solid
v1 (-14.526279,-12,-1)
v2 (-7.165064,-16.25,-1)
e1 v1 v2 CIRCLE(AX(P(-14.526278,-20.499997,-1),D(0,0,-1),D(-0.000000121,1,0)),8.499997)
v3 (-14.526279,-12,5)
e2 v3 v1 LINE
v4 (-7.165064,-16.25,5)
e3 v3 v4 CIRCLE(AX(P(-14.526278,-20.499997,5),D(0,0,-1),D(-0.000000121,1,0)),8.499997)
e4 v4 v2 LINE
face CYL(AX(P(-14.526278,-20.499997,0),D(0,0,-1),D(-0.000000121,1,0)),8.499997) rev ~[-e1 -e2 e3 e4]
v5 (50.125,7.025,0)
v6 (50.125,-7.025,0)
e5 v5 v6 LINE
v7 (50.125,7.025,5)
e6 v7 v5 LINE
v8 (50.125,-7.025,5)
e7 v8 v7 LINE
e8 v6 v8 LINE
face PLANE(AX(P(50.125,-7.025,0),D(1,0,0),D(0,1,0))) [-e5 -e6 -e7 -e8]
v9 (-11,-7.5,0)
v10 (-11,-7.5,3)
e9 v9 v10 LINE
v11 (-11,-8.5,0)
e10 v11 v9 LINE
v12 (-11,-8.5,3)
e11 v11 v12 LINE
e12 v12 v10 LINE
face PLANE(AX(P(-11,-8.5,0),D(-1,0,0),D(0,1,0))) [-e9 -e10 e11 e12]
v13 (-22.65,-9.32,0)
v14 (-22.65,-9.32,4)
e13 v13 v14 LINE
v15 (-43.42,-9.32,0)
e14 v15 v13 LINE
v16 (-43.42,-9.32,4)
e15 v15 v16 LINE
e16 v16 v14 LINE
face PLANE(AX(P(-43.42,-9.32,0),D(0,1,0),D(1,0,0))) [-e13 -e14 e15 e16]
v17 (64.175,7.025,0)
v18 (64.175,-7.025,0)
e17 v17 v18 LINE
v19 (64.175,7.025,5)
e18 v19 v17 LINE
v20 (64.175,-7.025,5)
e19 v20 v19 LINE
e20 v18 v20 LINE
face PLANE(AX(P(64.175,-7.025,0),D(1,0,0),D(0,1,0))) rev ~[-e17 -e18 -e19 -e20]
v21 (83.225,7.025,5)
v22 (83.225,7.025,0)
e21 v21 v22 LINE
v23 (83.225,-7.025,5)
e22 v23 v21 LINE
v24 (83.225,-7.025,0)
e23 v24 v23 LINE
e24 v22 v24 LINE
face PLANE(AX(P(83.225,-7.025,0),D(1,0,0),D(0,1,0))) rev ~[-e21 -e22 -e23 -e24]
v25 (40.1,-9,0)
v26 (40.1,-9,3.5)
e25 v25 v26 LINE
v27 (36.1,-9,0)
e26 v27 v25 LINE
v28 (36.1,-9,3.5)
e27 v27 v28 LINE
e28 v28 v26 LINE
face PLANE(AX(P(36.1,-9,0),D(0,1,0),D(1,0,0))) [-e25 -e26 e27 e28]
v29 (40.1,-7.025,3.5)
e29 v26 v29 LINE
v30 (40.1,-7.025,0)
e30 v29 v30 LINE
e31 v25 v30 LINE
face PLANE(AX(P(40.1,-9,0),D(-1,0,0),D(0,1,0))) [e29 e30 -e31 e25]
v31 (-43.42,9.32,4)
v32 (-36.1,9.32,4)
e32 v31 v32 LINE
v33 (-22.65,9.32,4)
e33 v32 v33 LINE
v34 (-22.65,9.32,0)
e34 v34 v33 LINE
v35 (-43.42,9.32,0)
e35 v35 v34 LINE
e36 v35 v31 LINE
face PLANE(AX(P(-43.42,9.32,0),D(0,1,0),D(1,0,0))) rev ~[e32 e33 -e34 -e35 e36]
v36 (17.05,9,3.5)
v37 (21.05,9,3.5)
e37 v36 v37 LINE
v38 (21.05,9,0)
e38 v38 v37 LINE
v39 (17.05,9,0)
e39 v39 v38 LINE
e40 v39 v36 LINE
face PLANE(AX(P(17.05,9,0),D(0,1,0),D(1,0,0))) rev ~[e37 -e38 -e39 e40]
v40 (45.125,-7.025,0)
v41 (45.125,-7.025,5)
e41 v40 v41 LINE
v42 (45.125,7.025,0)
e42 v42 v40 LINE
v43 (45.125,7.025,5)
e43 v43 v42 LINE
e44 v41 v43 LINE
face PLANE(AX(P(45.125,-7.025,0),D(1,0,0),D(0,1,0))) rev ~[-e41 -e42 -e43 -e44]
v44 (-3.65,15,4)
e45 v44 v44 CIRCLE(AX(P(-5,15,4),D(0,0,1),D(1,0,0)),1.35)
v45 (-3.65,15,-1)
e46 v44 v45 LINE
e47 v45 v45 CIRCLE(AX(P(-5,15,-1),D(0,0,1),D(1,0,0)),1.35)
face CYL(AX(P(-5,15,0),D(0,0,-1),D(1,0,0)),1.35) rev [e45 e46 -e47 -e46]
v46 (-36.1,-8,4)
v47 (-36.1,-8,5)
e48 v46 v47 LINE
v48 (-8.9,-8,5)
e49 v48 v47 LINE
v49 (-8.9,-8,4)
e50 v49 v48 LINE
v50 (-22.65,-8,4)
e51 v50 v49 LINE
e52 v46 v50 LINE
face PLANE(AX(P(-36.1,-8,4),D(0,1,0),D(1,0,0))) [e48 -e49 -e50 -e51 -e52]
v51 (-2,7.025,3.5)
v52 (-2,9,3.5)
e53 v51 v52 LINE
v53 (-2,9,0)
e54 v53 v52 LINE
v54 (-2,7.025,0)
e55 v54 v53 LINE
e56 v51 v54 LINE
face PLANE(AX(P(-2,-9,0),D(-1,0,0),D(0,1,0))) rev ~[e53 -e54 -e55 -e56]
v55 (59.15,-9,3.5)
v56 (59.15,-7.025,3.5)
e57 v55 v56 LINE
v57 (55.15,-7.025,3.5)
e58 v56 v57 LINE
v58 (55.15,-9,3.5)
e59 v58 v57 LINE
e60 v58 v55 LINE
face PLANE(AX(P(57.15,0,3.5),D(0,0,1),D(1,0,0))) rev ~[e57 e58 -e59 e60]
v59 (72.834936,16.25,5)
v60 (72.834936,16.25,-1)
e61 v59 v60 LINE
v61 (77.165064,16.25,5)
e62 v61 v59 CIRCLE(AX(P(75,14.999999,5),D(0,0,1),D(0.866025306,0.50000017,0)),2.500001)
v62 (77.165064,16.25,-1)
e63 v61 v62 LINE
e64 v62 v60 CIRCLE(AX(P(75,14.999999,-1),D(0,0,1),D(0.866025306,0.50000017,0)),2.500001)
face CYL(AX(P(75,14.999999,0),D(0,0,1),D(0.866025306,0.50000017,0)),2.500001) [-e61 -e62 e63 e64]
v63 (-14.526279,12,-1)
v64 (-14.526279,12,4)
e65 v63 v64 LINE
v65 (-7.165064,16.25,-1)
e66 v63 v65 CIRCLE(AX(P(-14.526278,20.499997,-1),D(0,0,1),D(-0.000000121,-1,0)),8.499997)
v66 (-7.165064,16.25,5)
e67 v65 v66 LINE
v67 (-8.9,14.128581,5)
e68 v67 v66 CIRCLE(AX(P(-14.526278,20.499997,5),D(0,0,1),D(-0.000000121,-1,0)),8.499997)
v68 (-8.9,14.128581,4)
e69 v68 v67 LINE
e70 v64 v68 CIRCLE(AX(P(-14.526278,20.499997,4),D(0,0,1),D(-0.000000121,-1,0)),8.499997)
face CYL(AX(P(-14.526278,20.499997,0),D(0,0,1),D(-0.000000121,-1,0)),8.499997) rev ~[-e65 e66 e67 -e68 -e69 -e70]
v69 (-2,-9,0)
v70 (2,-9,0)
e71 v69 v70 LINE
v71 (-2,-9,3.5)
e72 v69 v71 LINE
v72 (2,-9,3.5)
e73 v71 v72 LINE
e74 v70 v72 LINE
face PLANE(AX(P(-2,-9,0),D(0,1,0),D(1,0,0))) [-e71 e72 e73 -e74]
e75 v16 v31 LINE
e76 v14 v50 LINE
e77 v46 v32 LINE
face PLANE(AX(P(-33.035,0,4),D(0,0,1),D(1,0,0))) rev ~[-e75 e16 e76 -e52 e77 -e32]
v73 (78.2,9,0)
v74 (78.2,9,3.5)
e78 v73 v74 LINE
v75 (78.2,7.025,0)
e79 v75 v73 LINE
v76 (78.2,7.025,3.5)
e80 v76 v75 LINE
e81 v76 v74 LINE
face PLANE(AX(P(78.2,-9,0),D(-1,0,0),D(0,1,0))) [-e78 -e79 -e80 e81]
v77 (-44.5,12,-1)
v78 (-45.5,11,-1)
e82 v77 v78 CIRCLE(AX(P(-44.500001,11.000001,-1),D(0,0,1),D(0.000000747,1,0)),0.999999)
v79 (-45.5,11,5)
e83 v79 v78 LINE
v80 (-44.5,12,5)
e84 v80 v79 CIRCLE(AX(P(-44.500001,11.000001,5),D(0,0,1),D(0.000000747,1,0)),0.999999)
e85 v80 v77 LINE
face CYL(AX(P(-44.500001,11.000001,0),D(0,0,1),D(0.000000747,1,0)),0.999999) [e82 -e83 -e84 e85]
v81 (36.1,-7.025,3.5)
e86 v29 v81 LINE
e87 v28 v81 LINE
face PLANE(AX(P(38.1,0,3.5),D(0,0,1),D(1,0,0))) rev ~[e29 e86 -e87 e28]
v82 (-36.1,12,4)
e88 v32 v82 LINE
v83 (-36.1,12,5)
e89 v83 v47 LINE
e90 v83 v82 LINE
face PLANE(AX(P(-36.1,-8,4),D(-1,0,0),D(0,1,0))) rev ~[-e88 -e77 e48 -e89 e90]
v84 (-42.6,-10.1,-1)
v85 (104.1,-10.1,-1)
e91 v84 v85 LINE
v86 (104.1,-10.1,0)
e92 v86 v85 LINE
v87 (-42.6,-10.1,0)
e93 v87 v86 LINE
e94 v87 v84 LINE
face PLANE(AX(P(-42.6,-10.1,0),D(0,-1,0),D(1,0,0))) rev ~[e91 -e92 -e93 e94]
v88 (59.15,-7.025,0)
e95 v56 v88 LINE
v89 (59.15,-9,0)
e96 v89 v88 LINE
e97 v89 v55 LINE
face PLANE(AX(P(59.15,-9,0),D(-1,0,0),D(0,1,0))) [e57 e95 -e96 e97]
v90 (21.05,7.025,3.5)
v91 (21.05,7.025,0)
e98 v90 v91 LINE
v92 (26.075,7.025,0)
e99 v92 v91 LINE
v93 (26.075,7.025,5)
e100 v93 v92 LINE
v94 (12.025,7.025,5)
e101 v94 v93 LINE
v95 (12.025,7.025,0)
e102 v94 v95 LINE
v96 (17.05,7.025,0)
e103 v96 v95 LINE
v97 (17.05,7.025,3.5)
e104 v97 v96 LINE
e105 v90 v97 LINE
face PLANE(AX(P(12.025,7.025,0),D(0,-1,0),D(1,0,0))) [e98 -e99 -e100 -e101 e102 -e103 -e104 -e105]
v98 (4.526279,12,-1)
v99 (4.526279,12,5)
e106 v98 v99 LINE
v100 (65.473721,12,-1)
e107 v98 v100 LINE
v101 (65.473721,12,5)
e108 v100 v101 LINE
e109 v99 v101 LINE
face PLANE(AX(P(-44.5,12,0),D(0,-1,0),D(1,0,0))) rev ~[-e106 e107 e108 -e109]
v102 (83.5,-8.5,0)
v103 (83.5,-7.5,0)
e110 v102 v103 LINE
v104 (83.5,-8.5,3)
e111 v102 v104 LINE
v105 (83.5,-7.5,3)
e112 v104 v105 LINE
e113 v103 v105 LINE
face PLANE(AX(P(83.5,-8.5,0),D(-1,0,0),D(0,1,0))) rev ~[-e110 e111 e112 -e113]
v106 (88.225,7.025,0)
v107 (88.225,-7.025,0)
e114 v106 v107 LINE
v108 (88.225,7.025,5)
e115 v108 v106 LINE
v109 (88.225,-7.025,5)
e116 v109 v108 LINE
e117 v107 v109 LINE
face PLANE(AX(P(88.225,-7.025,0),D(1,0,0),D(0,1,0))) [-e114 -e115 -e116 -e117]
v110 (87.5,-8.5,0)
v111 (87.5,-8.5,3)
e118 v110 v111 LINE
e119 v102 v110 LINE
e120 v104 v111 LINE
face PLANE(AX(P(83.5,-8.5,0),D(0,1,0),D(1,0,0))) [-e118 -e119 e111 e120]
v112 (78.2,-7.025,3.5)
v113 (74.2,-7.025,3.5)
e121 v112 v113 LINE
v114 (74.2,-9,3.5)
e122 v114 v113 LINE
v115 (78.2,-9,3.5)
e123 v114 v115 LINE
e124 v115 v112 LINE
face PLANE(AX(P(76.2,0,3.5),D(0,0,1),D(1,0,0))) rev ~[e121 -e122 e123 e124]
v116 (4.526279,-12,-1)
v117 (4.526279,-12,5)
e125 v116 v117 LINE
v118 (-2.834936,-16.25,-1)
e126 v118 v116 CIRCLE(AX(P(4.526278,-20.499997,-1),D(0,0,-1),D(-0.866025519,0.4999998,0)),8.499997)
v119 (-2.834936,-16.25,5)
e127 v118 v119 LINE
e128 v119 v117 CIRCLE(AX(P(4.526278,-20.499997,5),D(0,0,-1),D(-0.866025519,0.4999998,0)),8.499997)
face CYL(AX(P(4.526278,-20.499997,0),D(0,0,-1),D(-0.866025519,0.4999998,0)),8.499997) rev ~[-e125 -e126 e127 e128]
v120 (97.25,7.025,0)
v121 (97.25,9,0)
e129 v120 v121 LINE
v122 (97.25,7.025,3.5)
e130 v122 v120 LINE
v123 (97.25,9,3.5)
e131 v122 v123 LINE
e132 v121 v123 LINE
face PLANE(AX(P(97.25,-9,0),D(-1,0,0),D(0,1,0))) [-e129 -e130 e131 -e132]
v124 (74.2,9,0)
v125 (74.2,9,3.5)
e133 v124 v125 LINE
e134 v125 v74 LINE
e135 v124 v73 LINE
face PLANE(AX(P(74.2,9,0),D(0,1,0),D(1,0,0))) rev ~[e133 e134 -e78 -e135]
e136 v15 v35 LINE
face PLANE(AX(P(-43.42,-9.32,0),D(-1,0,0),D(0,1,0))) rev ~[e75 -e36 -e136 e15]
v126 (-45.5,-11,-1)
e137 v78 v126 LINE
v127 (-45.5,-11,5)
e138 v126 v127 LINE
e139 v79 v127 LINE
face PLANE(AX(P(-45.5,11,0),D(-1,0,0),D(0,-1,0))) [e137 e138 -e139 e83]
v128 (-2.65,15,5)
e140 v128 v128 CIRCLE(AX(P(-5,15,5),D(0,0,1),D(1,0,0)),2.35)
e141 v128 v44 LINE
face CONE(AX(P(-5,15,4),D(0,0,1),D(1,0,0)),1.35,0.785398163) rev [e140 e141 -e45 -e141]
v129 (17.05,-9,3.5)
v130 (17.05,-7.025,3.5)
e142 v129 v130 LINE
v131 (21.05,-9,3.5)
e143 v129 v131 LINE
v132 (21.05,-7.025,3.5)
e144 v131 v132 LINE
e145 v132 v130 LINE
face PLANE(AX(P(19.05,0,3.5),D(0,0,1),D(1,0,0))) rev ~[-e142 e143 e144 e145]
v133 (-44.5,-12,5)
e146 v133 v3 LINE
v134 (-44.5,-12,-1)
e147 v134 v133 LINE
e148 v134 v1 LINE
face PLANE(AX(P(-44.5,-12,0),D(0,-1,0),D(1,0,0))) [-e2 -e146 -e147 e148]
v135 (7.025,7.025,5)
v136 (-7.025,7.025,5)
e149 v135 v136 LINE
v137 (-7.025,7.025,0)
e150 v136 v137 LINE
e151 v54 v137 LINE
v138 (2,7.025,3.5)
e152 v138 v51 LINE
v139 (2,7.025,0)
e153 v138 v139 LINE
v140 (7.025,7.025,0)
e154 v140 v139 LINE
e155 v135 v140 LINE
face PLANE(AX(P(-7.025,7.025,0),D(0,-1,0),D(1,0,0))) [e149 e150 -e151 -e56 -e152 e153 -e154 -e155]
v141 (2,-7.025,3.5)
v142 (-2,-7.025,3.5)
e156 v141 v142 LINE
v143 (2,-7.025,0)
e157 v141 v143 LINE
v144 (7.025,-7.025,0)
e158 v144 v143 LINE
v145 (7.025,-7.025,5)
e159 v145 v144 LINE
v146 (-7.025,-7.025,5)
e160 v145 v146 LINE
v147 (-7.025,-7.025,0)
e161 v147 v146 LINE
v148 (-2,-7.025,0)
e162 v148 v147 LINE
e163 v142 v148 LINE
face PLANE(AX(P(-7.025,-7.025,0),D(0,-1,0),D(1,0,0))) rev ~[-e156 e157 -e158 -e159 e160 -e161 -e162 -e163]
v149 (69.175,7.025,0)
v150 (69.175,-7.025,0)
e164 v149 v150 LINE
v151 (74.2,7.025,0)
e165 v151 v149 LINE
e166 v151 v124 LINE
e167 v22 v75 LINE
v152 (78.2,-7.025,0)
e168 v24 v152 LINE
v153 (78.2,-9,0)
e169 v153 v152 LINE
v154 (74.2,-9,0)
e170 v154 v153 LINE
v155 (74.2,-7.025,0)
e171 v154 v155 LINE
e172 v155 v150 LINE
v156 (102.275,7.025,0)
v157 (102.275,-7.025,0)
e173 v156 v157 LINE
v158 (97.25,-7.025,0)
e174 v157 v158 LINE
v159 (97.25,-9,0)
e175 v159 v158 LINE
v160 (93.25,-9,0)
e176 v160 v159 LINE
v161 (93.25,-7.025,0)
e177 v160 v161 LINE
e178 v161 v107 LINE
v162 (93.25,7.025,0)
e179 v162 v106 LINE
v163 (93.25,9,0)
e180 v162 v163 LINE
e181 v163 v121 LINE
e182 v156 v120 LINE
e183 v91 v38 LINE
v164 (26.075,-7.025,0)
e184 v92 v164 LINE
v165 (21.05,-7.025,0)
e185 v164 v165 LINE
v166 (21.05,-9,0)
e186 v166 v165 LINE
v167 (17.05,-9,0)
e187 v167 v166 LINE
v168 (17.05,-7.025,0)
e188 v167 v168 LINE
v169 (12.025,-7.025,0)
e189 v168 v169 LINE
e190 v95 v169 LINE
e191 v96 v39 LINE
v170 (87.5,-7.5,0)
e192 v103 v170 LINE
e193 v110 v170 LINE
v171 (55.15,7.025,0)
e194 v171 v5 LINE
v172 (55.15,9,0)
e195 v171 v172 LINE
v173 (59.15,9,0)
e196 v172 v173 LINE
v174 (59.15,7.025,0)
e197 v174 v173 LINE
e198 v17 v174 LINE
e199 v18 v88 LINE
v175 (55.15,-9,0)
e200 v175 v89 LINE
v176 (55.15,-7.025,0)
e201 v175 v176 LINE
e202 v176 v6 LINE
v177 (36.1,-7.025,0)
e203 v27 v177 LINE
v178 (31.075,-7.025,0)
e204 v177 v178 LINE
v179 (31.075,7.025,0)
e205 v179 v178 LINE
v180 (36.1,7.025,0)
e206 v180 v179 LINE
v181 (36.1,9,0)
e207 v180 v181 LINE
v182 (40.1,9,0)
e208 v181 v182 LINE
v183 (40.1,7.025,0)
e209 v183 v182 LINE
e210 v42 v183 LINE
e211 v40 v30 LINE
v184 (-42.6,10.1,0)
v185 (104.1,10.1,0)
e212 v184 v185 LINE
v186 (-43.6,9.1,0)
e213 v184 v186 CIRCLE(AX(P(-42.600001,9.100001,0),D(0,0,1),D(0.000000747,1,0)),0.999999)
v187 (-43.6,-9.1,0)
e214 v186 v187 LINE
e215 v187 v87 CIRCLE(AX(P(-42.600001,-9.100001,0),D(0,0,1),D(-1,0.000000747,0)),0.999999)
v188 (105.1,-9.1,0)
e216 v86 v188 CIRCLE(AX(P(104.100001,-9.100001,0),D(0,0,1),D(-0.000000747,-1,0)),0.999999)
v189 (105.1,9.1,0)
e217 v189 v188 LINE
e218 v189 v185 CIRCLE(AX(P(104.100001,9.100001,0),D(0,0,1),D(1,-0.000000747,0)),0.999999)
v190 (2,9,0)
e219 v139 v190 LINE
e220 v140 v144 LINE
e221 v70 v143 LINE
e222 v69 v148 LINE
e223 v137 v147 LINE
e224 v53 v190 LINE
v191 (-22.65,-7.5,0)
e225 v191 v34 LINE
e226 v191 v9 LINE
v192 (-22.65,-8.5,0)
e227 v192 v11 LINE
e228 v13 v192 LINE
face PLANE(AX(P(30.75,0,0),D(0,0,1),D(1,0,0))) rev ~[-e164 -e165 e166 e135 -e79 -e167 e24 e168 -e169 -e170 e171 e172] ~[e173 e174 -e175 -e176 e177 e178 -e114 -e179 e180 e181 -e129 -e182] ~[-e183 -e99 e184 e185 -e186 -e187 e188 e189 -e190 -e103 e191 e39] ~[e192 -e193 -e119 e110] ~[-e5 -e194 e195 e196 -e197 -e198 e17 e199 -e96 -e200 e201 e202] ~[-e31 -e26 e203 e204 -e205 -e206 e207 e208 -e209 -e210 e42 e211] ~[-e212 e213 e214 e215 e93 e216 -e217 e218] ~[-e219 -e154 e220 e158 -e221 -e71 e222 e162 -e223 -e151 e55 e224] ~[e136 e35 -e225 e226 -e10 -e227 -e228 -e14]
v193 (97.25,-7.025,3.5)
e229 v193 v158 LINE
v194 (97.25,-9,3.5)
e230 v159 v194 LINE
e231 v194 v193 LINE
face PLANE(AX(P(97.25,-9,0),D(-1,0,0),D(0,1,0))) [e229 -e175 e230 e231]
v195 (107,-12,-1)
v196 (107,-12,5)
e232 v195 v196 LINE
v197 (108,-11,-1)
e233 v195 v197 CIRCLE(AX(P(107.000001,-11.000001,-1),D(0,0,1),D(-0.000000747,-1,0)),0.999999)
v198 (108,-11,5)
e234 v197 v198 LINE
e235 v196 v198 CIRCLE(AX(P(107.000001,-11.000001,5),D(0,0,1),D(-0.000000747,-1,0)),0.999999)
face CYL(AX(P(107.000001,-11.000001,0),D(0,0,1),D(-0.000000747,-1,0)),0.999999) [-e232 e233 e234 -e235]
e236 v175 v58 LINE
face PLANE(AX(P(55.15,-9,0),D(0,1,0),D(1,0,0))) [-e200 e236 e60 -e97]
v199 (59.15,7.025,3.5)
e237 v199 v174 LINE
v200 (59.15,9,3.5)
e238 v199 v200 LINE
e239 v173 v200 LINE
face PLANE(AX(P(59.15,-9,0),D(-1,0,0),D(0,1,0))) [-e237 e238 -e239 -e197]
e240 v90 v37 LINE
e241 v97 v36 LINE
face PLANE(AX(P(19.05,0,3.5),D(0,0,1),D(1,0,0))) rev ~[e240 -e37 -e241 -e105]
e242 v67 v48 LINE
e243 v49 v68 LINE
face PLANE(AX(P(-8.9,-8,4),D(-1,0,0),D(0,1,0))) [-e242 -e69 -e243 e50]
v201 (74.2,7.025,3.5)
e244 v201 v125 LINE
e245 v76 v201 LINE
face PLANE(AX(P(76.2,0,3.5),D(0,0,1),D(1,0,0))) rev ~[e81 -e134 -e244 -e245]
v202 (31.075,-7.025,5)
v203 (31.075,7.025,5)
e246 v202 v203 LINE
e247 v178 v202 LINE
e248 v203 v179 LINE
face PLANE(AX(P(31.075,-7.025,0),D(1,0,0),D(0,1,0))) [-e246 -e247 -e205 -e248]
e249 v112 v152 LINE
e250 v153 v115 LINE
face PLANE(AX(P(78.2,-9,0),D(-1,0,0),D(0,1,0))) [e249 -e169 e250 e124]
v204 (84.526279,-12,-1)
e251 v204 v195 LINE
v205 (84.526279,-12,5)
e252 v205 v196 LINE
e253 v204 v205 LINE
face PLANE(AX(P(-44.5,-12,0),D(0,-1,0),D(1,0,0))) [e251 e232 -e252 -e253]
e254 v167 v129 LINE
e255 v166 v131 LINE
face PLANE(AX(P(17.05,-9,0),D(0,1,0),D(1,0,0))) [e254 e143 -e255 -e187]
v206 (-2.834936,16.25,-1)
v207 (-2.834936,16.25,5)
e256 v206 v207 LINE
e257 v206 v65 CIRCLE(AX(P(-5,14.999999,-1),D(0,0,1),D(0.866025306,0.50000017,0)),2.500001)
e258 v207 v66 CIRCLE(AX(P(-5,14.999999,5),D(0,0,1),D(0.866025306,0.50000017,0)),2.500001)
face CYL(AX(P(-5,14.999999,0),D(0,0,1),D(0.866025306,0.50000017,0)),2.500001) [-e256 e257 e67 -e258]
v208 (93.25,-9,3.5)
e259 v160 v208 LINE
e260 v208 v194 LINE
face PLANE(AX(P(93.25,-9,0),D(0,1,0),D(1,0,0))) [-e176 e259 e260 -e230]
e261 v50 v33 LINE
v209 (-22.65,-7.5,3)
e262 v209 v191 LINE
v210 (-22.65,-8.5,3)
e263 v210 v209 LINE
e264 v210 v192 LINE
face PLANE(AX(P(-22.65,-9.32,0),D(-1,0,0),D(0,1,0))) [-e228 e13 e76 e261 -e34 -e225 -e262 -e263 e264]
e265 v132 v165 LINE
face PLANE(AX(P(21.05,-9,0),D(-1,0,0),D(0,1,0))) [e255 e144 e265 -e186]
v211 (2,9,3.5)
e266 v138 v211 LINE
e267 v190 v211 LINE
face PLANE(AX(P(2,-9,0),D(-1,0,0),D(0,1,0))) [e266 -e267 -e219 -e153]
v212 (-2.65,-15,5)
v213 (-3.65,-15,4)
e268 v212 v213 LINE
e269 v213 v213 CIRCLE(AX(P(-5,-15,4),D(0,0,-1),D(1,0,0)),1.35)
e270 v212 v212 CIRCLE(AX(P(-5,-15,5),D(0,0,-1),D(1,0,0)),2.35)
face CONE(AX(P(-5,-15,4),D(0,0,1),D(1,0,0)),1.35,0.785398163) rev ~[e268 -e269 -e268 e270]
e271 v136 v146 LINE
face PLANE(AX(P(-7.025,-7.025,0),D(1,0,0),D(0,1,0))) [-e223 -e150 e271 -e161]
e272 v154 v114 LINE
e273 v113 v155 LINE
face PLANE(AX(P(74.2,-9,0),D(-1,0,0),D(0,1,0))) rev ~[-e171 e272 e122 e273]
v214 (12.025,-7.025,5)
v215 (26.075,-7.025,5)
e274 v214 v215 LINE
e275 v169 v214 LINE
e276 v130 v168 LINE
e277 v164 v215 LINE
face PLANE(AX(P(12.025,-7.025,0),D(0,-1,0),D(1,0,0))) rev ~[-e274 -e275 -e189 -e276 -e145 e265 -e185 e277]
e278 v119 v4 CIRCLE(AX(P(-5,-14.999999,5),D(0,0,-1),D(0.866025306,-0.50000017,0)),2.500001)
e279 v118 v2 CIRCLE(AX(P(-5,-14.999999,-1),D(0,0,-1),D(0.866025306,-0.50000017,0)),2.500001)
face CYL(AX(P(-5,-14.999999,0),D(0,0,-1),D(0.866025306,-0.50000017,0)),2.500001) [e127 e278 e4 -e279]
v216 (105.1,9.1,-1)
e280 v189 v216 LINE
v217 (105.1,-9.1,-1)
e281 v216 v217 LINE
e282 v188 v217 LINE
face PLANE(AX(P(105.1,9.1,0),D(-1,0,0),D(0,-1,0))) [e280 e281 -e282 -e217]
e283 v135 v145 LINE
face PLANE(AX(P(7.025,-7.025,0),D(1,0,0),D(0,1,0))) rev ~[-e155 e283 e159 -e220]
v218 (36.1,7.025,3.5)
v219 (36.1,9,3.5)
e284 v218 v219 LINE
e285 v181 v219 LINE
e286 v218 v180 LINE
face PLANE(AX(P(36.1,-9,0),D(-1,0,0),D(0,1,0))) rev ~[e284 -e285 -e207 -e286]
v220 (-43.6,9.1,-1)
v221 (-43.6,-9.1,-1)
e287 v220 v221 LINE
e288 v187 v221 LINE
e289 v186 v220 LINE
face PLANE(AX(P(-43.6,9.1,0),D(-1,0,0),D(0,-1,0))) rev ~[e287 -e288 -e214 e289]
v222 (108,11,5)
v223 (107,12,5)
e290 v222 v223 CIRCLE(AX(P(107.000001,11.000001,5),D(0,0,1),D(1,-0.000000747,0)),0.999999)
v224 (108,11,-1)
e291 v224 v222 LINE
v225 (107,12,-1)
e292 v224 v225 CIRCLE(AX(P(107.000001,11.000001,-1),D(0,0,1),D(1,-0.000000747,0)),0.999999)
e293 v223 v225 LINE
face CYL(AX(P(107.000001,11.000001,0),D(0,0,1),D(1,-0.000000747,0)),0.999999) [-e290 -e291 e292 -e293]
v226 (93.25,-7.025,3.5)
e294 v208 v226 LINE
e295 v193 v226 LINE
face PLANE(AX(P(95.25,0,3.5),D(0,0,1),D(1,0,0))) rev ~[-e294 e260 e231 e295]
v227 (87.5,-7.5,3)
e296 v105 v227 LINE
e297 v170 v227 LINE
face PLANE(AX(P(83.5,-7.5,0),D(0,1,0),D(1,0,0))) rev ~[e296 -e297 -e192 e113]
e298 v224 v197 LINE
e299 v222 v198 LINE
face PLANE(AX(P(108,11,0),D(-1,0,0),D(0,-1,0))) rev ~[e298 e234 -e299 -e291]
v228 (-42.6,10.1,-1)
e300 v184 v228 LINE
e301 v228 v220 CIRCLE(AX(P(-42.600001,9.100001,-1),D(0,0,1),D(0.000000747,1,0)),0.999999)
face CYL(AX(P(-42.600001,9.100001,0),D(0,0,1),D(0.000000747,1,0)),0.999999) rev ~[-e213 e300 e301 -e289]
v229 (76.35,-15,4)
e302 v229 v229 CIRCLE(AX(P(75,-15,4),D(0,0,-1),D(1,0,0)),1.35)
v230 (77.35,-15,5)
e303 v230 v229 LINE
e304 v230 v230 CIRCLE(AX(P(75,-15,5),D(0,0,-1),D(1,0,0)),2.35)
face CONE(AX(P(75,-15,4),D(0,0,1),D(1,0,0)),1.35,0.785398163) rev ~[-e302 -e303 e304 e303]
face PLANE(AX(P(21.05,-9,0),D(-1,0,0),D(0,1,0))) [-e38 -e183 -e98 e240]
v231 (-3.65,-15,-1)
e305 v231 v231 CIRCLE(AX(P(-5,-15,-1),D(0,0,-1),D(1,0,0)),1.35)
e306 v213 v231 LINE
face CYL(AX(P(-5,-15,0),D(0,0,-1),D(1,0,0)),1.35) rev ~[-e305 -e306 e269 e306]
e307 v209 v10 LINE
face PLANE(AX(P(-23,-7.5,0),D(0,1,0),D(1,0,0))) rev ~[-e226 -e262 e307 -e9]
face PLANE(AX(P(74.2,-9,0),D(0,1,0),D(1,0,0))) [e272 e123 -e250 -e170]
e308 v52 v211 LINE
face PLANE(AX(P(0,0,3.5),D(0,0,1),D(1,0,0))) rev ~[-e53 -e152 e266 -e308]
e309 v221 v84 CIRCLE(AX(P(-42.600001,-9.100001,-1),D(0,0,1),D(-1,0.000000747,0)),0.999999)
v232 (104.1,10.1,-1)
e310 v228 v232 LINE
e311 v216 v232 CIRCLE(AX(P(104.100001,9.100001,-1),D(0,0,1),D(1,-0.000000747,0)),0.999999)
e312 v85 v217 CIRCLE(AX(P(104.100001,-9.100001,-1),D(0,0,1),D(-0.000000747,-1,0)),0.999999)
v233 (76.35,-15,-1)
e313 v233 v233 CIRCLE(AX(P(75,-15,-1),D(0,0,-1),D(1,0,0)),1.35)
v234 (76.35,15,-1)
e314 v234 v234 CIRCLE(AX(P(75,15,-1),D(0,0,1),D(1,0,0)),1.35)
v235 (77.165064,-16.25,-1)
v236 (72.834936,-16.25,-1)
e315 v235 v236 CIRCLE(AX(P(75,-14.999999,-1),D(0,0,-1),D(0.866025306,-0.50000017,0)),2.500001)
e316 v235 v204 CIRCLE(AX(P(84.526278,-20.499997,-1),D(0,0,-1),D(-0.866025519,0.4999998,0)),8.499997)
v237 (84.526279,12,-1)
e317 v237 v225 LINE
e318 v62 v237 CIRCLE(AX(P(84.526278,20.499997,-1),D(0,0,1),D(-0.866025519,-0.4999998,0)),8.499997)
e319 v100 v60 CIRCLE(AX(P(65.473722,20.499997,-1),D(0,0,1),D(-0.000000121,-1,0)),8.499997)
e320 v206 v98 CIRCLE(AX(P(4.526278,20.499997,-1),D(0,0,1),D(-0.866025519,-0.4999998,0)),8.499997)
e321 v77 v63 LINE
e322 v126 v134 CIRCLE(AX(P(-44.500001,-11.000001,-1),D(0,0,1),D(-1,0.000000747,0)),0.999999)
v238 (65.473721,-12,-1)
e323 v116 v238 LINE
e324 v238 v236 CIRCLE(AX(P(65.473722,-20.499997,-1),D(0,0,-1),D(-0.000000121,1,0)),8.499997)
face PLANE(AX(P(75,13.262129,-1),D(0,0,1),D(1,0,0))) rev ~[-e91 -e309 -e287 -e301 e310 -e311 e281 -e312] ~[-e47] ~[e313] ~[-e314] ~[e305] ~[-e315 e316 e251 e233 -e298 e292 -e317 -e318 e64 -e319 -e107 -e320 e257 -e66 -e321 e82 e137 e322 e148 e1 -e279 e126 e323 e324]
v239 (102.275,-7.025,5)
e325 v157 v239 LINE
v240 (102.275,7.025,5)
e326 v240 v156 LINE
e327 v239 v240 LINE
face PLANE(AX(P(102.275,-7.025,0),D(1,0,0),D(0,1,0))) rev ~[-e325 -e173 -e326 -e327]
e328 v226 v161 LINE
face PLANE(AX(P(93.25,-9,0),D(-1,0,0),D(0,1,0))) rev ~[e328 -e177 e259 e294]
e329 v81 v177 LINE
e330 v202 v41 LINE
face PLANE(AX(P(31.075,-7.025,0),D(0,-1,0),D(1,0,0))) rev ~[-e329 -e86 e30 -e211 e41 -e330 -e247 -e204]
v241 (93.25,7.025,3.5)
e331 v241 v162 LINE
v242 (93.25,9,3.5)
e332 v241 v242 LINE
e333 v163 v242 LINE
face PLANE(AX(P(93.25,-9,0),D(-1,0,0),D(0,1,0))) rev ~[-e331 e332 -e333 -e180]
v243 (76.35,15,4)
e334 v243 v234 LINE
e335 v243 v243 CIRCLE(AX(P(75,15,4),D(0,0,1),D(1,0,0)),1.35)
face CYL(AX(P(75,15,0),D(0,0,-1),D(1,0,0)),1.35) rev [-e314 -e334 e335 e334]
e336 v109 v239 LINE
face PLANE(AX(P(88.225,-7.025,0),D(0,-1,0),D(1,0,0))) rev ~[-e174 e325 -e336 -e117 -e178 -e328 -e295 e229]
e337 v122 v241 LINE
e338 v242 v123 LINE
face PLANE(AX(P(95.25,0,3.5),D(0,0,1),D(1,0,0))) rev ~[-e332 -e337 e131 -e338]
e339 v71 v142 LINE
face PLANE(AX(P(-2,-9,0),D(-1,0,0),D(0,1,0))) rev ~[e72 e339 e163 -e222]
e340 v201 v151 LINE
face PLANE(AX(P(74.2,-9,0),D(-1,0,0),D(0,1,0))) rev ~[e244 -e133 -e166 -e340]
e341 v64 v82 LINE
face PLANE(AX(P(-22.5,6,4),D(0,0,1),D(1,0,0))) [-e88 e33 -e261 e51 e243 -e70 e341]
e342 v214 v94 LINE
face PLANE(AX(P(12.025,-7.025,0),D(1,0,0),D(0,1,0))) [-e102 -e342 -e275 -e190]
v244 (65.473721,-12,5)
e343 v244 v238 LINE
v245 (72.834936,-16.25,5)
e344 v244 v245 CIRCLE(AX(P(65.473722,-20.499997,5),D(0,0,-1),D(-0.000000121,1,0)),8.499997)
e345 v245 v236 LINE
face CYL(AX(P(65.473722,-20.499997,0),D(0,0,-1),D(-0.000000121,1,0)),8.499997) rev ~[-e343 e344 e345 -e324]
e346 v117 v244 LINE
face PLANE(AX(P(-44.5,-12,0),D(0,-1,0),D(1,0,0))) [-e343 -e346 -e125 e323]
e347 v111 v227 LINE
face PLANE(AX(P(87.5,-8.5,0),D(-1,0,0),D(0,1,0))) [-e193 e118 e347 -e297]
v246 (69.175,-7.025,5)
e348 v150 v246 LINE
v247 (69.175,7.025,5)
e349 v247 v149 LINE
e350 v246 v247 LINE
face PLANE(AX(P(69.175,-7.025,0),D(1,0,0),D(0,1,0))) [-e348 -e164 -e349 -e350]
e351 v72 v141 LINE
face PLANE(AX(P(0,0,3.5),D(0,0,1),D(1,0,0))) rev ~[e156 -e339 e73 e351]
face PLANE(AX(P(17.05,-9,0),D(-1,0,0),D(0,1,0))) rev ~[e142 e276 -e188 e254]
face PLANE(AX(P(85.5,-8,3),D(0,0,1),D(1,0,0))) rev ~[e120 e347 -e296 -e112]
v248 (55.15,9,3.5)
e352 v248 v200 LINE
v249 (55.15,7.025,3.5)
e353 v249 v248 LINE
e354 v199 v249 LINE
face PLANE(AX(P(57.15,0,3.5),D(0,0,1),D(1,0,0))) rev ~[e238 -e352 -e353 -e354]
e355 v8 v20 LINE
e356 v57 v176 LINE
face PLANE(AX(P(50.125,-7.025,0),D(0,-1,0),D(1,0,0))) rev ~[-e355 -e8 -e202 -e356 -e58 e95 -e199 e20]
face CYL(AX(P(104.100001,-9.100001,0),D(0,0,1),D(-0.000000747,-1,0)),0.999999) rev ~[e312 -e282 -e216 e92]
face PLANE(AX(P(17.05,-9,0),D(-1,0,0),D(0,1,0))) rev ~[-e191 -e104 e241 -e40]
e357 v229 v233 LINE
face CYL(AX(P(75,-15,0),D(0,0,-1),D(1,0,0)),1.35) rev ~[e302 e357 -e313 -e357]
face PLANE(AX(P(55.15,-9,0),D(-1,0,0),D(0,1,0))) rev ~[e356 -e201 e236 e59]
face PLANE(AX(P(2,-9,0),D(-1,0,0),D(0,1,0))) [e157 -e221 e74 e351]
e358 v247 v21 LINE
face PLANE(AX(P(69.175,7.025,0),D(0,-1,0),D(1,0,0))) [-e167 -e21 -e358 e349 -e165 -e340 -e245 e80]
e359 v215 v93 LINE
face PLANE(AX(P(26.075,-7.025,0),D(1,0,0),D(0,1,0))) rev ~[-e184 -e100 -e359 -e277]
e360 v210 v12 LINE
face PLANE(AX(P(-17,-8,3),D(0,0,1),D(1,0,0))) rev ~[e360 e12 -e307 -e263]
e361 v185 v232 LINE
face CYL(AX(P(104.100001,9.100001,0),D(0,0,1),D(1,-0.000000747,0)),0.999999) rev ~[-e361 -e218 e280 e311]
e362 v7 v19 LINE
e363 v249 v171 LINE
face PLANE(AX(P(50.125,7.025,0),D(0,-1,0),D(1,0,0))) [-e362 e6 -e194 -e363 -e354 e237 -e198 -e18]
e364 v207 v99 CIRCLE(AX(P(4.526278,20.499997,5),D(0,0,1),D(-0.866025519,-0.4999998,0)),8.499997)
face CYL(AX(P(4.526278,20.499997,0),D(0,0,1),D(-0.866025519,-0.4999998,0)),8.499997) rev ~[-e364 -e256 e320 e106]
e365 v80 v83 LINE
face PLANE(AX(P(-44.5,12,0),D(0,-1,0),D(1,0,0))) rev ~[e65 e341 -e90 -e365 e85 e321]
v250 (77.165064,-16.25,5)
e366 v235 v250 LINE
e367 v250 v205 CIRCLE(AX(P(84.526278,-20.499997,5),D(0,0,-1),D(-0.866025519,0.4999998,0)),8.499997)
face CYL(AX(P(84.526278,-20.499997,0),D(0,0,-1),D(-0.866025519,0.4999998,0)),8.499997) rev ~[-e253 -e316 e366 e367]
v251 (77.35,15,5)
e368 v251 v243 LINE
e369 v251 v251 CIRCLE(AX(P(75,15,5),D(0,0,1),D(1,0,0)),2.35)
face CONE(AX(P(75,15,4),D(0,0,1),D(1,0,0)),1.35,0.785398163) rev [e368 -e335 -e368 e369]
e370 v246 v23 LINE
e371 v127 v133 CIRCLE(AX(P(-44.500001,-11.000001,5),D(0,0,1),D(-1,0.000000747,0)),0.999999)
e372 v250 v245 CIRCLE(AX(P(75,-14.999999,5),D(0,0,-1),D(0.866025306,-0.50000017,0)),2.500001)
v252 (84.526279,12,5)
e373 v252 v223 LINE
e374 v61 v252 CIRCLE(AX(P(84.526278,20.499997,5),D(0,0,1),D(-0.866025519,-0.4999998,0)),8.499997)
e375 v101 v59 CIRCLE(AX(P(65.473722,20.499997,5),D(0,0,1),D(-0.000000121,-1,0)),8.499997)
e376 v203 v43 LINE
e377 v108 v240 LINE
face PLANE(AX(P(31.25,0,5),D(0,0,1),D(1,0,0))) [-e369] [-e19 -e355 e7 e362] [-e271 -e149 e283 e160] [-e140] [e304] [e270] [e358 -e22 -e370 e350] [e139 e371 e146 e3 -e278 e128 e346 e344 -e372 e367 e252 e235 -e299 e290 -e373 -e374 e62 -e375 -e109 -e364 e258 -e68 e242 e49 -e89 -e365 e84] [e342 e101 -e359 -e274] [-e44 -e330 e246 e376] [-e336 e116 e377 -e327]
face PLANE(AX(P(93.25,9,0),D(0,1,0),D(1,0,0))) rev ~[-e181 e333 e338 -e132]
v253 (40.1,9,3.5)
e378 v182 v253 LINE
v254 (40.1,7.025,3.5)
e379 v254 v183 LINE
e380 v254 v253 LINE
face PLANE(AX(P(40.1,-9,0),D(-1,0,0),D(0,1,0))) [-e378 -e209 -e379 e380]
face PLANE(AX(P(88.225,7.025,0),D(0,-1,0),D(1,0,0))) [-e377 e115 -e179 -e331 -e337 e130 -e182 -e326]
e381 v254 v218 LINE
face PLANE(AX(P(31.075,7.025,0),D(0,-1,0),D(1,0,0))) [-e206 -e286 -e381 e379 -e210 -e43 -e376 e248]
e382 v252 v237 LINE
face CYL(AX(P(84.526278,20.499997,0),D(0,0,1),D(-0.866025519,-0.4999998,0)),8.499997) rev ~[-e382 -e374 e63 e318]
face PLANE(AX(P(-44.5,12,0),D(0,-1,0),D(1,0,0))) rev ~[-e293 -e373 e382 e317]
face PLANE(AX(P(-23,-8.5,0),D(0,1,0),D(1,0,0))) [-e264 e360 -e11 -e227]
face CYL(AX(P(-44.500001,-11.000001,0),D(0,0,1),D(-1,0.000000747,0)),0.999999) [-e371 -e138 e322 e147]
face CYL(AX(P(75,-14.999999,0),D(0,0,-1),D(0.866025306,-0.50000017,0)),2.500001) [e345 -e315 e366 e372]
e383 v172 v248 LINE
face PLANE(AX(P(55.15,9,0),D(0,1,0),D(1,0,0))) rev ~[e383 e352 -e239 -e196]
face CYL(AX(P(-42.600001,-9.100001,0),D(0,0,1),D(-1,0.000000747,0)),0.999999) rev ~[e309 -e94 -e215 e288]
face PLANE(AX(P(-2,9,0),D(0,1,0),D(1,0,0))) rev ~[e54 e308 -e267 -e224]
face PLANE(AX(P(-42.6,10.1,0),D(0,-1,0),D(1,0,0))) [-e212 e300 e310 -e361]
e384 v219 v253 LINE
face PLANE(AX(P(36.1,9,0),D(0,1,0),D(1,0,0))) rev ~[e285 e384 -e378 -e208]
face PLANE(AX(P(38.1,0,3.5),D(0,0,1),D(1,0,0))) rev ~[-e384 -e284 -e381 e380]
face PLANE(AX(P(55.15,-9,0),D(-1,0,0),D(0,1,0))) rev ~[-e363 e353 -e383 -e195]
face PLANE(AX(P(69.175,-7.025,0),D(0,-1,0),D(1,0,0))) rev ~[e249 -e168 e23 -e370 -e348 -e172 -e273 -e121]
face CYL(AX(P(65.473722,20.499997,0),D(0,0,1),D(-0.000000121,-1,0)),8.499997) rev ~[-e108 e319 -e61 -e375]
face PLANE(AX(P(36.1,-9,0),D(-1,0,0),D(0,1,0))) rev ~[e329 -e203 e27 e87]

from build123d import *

# Parameters (mm, degrees)
PAD_DEPTH           = 5
PAD_DEPTH_BACK      = 1
SKETCH001_W         = 14.05
SKETCH001_H         = 14.05
POCKET_DEPTH        = 1.001
POCKET_DEPTH_BACK   = 5.001
SKETCH004_W         = 4
SKETCH004_H         = 18
POCKET002_DEPTH     = 3.5
LINEARPATTERN_COUNT = 6
LINEARPATTERN_PITCH = 19.05
POCKET001_DEPTH     = 1.001
SKETCH005_R         = 1.35
PAD001_DEPTH        = 5
PAD001_DEPTH_BACK   = 1
CHAMFER_SIZE        = 1
SKETCH006_W         = 20.77
SKETCH006_H         = 18.64
POCKET003_DEPTH     = 4
SKETCH007_W         = 12
SKETCH007_H         = 1
SKETCH007_W_2       = 4
POCKET004_DEPTH     = 3
SKETCH008_W         = 27.2
SKETCH008_H         = 28
POCKET005_DEPTH     = 1.001


with BuildPart() as part:
    # Sketch → Pad (new body, two sides)
    with BuildSketch(Plane.XY) as pad_sk:
        with BuildLine():
            Line((-45.5, 11), (-45.5, -11))
            ThreePointArc((-45.5, -11), (-45.207107, -11.707107), (-44.5, -12))
            Line((-44.5, -12), (107, -12))
            ThreePointArc((107, -12), (107.707107, -11.707107), (108, -11))
            Line((108, 11), (108, -11))
            ThreePointArc((108, 11), (107.707107, 11.707107), (107, 12))
            Line((-44.5, 12), (107, 12))
            ThreePointArc((-44.5, 12), (-45.207107, 11.707107), (-45.5, 11))
        make_face()
    extrude(amount=PAD_DEPTH)
    extrude(pad_sk.sketch, amount=-PAD_DEPTH_BACK)

    # Sketch001 → Pocket (cut, two sides)
    with BuildSketch(Plane.XY) as pocket_sk:
        Rectangle(SKETCH001_W, SKETCH001_H)
    pocket = extrude(amount=-POCKET_DEPTH, mode=Mode.SUBTRACT) + extrude(pocket_sk.sketch, amount=POCKET_DEPTH_BACK, mode=Mode.SUBTRACT)

    # Sketch004 → Pocket002 (cut)
    with BuildSketch(Plane.XY):
        Rectangle(SKETCH004_W, SKETCH004_H)
    pocket002 = extrude(amount=POCKET002_DEPTH, mode=Mode.SUBTRACT)

    # LinearPattern: Pocket, Pocket002 ×6
    with Locations(*[(i * LINEARPATTERN_PITCH, 0, 0) for i in range(1, LINEARPATTERN_COUNT)]):
        add(pocket, mode=Mode.SUBTRACT)
        add(pocket002, mode=Mode.SUBTRACT)

    # Sketch002 → Pocket001 (cut, through all)
    with BuildSketch(Plane.XY):
        with BuildLine():
            Line((-43.6, 9.1), (-43.6, -9.1))
            ThreePointArc((-43.6, -9.1), (-43.307107, -9.807107), (-42.6, -10.1))
            Line((-42.6, -10.1), (104.1, -10.1))
            ThreePointArc((104.1, -10.1), (104.807107, -9.807107), (105.1, -9.1))
            Line((105.1, 9.1), (105.1, -9.1))
            ThreePointArc((105.1, 9.1), (104.807107, 9.807107), (104.1, 10.1))
            Line((-42.6, 10.1), (104.1, 10.1))
            ThreePointArc((-42.6, 10.1), (-43.307107, 9.807107), (-43.6, 9.1))
        make_face()
    extrude(amount=-POCKET001_DEPTH, mode=Mode.SUBTRACT)

    # Sketch005 → Pad001 (join, two sides)
    with BuildSketch(Plane.XY) as pad001_sk:
        with BuildLine():
            Line((65.473721, 12), (84.526279, 12))
            ThreePointArc((77.165064, 16.25), (80.276279, 13.138784), (84.526279, 12))
            ThreePointArc((77.165064, 16.25), (75, 17.5), (72.834936, 16.25))
            ThreePointArc((65.473721, 12), (69.723721, 13.138784), (72.834936, 16.25))
        make_face()
        with Locations((75, 15)):
            Circle(SKETCH005_R, mode=Mode.SUBTRACT)
        with BuildLine():
            Line((-14.526279, 12), (4.526279, 12))
            ThreePointArc((-2.834936, 16.25), (0.276279, 13.138784), (4.526279, 12))
            ThreePointArc((-2.834936, 16.25), (-5, 17.5), (-7.165064, 16.25))
            ThreePointArc((-14.526279, 12), (-10.276279, 13.138784), (-7.165064, 16.25))
        make_face()
        with Locations((-5, 15)):
            Circle(SKETCH005_R, mode=Mode.SUBTRACT)
    pad001 = extrude(amount=PAD001_DEPTH) + extrude(pad001_sk.sketch, amount=-PAD001_DEPTH_BACK)

    # Mirrored: Pad001 across XZ
    add(pad001.mirror(Plane.XZ))

    # Chamfer
    chamfer_edges = [part.edges().sort_by_distance(p)[0] for p in [
        (73.65, 15, 5),
        (-6.35, 15, 5),
        (-6.35, -15, 5),
        (73.65, -15, 5),
    ]]
    chamfer(chamfer_edges, length=CHAMFER_SIZE)

    # Sketch006 → Pocket003 (cut)
    with BuildSketch(Plane.XY):
        with Locations((-33.035, 0)):
            Rectangle(SKETCH006_W, SKETCH006_H)
    extrude(amount=POCKET003_DEPTH, mode=Mode.SUBTRACT)

    # Sketch007 → Pocket004 (cut)
    with BuildSketch(Plane.XY):
        with Locations((-17, -8)):
            Rectangle(SKETCH007_W, SKETCH007_H)
        with Locations((85.5, -8)):
            Rectangle(SKETCH007_W_2, SKETCH007_H)
    extrude(amount=POCKET004_DEPTH, mode=Mode.SUBTRACT)

    # Sketch008 → Pocket005 (cut, through all)
    with BuildSketch(Plane.XY.offset(4)):
        with Locations((-22.5, 6)):
            Rectangle(SKETCH008_W, SKETCH008_H)
    extrude(amount=POCKET005_DEPTH, mode=Mode.SUBTRACT)


solid = part.part
